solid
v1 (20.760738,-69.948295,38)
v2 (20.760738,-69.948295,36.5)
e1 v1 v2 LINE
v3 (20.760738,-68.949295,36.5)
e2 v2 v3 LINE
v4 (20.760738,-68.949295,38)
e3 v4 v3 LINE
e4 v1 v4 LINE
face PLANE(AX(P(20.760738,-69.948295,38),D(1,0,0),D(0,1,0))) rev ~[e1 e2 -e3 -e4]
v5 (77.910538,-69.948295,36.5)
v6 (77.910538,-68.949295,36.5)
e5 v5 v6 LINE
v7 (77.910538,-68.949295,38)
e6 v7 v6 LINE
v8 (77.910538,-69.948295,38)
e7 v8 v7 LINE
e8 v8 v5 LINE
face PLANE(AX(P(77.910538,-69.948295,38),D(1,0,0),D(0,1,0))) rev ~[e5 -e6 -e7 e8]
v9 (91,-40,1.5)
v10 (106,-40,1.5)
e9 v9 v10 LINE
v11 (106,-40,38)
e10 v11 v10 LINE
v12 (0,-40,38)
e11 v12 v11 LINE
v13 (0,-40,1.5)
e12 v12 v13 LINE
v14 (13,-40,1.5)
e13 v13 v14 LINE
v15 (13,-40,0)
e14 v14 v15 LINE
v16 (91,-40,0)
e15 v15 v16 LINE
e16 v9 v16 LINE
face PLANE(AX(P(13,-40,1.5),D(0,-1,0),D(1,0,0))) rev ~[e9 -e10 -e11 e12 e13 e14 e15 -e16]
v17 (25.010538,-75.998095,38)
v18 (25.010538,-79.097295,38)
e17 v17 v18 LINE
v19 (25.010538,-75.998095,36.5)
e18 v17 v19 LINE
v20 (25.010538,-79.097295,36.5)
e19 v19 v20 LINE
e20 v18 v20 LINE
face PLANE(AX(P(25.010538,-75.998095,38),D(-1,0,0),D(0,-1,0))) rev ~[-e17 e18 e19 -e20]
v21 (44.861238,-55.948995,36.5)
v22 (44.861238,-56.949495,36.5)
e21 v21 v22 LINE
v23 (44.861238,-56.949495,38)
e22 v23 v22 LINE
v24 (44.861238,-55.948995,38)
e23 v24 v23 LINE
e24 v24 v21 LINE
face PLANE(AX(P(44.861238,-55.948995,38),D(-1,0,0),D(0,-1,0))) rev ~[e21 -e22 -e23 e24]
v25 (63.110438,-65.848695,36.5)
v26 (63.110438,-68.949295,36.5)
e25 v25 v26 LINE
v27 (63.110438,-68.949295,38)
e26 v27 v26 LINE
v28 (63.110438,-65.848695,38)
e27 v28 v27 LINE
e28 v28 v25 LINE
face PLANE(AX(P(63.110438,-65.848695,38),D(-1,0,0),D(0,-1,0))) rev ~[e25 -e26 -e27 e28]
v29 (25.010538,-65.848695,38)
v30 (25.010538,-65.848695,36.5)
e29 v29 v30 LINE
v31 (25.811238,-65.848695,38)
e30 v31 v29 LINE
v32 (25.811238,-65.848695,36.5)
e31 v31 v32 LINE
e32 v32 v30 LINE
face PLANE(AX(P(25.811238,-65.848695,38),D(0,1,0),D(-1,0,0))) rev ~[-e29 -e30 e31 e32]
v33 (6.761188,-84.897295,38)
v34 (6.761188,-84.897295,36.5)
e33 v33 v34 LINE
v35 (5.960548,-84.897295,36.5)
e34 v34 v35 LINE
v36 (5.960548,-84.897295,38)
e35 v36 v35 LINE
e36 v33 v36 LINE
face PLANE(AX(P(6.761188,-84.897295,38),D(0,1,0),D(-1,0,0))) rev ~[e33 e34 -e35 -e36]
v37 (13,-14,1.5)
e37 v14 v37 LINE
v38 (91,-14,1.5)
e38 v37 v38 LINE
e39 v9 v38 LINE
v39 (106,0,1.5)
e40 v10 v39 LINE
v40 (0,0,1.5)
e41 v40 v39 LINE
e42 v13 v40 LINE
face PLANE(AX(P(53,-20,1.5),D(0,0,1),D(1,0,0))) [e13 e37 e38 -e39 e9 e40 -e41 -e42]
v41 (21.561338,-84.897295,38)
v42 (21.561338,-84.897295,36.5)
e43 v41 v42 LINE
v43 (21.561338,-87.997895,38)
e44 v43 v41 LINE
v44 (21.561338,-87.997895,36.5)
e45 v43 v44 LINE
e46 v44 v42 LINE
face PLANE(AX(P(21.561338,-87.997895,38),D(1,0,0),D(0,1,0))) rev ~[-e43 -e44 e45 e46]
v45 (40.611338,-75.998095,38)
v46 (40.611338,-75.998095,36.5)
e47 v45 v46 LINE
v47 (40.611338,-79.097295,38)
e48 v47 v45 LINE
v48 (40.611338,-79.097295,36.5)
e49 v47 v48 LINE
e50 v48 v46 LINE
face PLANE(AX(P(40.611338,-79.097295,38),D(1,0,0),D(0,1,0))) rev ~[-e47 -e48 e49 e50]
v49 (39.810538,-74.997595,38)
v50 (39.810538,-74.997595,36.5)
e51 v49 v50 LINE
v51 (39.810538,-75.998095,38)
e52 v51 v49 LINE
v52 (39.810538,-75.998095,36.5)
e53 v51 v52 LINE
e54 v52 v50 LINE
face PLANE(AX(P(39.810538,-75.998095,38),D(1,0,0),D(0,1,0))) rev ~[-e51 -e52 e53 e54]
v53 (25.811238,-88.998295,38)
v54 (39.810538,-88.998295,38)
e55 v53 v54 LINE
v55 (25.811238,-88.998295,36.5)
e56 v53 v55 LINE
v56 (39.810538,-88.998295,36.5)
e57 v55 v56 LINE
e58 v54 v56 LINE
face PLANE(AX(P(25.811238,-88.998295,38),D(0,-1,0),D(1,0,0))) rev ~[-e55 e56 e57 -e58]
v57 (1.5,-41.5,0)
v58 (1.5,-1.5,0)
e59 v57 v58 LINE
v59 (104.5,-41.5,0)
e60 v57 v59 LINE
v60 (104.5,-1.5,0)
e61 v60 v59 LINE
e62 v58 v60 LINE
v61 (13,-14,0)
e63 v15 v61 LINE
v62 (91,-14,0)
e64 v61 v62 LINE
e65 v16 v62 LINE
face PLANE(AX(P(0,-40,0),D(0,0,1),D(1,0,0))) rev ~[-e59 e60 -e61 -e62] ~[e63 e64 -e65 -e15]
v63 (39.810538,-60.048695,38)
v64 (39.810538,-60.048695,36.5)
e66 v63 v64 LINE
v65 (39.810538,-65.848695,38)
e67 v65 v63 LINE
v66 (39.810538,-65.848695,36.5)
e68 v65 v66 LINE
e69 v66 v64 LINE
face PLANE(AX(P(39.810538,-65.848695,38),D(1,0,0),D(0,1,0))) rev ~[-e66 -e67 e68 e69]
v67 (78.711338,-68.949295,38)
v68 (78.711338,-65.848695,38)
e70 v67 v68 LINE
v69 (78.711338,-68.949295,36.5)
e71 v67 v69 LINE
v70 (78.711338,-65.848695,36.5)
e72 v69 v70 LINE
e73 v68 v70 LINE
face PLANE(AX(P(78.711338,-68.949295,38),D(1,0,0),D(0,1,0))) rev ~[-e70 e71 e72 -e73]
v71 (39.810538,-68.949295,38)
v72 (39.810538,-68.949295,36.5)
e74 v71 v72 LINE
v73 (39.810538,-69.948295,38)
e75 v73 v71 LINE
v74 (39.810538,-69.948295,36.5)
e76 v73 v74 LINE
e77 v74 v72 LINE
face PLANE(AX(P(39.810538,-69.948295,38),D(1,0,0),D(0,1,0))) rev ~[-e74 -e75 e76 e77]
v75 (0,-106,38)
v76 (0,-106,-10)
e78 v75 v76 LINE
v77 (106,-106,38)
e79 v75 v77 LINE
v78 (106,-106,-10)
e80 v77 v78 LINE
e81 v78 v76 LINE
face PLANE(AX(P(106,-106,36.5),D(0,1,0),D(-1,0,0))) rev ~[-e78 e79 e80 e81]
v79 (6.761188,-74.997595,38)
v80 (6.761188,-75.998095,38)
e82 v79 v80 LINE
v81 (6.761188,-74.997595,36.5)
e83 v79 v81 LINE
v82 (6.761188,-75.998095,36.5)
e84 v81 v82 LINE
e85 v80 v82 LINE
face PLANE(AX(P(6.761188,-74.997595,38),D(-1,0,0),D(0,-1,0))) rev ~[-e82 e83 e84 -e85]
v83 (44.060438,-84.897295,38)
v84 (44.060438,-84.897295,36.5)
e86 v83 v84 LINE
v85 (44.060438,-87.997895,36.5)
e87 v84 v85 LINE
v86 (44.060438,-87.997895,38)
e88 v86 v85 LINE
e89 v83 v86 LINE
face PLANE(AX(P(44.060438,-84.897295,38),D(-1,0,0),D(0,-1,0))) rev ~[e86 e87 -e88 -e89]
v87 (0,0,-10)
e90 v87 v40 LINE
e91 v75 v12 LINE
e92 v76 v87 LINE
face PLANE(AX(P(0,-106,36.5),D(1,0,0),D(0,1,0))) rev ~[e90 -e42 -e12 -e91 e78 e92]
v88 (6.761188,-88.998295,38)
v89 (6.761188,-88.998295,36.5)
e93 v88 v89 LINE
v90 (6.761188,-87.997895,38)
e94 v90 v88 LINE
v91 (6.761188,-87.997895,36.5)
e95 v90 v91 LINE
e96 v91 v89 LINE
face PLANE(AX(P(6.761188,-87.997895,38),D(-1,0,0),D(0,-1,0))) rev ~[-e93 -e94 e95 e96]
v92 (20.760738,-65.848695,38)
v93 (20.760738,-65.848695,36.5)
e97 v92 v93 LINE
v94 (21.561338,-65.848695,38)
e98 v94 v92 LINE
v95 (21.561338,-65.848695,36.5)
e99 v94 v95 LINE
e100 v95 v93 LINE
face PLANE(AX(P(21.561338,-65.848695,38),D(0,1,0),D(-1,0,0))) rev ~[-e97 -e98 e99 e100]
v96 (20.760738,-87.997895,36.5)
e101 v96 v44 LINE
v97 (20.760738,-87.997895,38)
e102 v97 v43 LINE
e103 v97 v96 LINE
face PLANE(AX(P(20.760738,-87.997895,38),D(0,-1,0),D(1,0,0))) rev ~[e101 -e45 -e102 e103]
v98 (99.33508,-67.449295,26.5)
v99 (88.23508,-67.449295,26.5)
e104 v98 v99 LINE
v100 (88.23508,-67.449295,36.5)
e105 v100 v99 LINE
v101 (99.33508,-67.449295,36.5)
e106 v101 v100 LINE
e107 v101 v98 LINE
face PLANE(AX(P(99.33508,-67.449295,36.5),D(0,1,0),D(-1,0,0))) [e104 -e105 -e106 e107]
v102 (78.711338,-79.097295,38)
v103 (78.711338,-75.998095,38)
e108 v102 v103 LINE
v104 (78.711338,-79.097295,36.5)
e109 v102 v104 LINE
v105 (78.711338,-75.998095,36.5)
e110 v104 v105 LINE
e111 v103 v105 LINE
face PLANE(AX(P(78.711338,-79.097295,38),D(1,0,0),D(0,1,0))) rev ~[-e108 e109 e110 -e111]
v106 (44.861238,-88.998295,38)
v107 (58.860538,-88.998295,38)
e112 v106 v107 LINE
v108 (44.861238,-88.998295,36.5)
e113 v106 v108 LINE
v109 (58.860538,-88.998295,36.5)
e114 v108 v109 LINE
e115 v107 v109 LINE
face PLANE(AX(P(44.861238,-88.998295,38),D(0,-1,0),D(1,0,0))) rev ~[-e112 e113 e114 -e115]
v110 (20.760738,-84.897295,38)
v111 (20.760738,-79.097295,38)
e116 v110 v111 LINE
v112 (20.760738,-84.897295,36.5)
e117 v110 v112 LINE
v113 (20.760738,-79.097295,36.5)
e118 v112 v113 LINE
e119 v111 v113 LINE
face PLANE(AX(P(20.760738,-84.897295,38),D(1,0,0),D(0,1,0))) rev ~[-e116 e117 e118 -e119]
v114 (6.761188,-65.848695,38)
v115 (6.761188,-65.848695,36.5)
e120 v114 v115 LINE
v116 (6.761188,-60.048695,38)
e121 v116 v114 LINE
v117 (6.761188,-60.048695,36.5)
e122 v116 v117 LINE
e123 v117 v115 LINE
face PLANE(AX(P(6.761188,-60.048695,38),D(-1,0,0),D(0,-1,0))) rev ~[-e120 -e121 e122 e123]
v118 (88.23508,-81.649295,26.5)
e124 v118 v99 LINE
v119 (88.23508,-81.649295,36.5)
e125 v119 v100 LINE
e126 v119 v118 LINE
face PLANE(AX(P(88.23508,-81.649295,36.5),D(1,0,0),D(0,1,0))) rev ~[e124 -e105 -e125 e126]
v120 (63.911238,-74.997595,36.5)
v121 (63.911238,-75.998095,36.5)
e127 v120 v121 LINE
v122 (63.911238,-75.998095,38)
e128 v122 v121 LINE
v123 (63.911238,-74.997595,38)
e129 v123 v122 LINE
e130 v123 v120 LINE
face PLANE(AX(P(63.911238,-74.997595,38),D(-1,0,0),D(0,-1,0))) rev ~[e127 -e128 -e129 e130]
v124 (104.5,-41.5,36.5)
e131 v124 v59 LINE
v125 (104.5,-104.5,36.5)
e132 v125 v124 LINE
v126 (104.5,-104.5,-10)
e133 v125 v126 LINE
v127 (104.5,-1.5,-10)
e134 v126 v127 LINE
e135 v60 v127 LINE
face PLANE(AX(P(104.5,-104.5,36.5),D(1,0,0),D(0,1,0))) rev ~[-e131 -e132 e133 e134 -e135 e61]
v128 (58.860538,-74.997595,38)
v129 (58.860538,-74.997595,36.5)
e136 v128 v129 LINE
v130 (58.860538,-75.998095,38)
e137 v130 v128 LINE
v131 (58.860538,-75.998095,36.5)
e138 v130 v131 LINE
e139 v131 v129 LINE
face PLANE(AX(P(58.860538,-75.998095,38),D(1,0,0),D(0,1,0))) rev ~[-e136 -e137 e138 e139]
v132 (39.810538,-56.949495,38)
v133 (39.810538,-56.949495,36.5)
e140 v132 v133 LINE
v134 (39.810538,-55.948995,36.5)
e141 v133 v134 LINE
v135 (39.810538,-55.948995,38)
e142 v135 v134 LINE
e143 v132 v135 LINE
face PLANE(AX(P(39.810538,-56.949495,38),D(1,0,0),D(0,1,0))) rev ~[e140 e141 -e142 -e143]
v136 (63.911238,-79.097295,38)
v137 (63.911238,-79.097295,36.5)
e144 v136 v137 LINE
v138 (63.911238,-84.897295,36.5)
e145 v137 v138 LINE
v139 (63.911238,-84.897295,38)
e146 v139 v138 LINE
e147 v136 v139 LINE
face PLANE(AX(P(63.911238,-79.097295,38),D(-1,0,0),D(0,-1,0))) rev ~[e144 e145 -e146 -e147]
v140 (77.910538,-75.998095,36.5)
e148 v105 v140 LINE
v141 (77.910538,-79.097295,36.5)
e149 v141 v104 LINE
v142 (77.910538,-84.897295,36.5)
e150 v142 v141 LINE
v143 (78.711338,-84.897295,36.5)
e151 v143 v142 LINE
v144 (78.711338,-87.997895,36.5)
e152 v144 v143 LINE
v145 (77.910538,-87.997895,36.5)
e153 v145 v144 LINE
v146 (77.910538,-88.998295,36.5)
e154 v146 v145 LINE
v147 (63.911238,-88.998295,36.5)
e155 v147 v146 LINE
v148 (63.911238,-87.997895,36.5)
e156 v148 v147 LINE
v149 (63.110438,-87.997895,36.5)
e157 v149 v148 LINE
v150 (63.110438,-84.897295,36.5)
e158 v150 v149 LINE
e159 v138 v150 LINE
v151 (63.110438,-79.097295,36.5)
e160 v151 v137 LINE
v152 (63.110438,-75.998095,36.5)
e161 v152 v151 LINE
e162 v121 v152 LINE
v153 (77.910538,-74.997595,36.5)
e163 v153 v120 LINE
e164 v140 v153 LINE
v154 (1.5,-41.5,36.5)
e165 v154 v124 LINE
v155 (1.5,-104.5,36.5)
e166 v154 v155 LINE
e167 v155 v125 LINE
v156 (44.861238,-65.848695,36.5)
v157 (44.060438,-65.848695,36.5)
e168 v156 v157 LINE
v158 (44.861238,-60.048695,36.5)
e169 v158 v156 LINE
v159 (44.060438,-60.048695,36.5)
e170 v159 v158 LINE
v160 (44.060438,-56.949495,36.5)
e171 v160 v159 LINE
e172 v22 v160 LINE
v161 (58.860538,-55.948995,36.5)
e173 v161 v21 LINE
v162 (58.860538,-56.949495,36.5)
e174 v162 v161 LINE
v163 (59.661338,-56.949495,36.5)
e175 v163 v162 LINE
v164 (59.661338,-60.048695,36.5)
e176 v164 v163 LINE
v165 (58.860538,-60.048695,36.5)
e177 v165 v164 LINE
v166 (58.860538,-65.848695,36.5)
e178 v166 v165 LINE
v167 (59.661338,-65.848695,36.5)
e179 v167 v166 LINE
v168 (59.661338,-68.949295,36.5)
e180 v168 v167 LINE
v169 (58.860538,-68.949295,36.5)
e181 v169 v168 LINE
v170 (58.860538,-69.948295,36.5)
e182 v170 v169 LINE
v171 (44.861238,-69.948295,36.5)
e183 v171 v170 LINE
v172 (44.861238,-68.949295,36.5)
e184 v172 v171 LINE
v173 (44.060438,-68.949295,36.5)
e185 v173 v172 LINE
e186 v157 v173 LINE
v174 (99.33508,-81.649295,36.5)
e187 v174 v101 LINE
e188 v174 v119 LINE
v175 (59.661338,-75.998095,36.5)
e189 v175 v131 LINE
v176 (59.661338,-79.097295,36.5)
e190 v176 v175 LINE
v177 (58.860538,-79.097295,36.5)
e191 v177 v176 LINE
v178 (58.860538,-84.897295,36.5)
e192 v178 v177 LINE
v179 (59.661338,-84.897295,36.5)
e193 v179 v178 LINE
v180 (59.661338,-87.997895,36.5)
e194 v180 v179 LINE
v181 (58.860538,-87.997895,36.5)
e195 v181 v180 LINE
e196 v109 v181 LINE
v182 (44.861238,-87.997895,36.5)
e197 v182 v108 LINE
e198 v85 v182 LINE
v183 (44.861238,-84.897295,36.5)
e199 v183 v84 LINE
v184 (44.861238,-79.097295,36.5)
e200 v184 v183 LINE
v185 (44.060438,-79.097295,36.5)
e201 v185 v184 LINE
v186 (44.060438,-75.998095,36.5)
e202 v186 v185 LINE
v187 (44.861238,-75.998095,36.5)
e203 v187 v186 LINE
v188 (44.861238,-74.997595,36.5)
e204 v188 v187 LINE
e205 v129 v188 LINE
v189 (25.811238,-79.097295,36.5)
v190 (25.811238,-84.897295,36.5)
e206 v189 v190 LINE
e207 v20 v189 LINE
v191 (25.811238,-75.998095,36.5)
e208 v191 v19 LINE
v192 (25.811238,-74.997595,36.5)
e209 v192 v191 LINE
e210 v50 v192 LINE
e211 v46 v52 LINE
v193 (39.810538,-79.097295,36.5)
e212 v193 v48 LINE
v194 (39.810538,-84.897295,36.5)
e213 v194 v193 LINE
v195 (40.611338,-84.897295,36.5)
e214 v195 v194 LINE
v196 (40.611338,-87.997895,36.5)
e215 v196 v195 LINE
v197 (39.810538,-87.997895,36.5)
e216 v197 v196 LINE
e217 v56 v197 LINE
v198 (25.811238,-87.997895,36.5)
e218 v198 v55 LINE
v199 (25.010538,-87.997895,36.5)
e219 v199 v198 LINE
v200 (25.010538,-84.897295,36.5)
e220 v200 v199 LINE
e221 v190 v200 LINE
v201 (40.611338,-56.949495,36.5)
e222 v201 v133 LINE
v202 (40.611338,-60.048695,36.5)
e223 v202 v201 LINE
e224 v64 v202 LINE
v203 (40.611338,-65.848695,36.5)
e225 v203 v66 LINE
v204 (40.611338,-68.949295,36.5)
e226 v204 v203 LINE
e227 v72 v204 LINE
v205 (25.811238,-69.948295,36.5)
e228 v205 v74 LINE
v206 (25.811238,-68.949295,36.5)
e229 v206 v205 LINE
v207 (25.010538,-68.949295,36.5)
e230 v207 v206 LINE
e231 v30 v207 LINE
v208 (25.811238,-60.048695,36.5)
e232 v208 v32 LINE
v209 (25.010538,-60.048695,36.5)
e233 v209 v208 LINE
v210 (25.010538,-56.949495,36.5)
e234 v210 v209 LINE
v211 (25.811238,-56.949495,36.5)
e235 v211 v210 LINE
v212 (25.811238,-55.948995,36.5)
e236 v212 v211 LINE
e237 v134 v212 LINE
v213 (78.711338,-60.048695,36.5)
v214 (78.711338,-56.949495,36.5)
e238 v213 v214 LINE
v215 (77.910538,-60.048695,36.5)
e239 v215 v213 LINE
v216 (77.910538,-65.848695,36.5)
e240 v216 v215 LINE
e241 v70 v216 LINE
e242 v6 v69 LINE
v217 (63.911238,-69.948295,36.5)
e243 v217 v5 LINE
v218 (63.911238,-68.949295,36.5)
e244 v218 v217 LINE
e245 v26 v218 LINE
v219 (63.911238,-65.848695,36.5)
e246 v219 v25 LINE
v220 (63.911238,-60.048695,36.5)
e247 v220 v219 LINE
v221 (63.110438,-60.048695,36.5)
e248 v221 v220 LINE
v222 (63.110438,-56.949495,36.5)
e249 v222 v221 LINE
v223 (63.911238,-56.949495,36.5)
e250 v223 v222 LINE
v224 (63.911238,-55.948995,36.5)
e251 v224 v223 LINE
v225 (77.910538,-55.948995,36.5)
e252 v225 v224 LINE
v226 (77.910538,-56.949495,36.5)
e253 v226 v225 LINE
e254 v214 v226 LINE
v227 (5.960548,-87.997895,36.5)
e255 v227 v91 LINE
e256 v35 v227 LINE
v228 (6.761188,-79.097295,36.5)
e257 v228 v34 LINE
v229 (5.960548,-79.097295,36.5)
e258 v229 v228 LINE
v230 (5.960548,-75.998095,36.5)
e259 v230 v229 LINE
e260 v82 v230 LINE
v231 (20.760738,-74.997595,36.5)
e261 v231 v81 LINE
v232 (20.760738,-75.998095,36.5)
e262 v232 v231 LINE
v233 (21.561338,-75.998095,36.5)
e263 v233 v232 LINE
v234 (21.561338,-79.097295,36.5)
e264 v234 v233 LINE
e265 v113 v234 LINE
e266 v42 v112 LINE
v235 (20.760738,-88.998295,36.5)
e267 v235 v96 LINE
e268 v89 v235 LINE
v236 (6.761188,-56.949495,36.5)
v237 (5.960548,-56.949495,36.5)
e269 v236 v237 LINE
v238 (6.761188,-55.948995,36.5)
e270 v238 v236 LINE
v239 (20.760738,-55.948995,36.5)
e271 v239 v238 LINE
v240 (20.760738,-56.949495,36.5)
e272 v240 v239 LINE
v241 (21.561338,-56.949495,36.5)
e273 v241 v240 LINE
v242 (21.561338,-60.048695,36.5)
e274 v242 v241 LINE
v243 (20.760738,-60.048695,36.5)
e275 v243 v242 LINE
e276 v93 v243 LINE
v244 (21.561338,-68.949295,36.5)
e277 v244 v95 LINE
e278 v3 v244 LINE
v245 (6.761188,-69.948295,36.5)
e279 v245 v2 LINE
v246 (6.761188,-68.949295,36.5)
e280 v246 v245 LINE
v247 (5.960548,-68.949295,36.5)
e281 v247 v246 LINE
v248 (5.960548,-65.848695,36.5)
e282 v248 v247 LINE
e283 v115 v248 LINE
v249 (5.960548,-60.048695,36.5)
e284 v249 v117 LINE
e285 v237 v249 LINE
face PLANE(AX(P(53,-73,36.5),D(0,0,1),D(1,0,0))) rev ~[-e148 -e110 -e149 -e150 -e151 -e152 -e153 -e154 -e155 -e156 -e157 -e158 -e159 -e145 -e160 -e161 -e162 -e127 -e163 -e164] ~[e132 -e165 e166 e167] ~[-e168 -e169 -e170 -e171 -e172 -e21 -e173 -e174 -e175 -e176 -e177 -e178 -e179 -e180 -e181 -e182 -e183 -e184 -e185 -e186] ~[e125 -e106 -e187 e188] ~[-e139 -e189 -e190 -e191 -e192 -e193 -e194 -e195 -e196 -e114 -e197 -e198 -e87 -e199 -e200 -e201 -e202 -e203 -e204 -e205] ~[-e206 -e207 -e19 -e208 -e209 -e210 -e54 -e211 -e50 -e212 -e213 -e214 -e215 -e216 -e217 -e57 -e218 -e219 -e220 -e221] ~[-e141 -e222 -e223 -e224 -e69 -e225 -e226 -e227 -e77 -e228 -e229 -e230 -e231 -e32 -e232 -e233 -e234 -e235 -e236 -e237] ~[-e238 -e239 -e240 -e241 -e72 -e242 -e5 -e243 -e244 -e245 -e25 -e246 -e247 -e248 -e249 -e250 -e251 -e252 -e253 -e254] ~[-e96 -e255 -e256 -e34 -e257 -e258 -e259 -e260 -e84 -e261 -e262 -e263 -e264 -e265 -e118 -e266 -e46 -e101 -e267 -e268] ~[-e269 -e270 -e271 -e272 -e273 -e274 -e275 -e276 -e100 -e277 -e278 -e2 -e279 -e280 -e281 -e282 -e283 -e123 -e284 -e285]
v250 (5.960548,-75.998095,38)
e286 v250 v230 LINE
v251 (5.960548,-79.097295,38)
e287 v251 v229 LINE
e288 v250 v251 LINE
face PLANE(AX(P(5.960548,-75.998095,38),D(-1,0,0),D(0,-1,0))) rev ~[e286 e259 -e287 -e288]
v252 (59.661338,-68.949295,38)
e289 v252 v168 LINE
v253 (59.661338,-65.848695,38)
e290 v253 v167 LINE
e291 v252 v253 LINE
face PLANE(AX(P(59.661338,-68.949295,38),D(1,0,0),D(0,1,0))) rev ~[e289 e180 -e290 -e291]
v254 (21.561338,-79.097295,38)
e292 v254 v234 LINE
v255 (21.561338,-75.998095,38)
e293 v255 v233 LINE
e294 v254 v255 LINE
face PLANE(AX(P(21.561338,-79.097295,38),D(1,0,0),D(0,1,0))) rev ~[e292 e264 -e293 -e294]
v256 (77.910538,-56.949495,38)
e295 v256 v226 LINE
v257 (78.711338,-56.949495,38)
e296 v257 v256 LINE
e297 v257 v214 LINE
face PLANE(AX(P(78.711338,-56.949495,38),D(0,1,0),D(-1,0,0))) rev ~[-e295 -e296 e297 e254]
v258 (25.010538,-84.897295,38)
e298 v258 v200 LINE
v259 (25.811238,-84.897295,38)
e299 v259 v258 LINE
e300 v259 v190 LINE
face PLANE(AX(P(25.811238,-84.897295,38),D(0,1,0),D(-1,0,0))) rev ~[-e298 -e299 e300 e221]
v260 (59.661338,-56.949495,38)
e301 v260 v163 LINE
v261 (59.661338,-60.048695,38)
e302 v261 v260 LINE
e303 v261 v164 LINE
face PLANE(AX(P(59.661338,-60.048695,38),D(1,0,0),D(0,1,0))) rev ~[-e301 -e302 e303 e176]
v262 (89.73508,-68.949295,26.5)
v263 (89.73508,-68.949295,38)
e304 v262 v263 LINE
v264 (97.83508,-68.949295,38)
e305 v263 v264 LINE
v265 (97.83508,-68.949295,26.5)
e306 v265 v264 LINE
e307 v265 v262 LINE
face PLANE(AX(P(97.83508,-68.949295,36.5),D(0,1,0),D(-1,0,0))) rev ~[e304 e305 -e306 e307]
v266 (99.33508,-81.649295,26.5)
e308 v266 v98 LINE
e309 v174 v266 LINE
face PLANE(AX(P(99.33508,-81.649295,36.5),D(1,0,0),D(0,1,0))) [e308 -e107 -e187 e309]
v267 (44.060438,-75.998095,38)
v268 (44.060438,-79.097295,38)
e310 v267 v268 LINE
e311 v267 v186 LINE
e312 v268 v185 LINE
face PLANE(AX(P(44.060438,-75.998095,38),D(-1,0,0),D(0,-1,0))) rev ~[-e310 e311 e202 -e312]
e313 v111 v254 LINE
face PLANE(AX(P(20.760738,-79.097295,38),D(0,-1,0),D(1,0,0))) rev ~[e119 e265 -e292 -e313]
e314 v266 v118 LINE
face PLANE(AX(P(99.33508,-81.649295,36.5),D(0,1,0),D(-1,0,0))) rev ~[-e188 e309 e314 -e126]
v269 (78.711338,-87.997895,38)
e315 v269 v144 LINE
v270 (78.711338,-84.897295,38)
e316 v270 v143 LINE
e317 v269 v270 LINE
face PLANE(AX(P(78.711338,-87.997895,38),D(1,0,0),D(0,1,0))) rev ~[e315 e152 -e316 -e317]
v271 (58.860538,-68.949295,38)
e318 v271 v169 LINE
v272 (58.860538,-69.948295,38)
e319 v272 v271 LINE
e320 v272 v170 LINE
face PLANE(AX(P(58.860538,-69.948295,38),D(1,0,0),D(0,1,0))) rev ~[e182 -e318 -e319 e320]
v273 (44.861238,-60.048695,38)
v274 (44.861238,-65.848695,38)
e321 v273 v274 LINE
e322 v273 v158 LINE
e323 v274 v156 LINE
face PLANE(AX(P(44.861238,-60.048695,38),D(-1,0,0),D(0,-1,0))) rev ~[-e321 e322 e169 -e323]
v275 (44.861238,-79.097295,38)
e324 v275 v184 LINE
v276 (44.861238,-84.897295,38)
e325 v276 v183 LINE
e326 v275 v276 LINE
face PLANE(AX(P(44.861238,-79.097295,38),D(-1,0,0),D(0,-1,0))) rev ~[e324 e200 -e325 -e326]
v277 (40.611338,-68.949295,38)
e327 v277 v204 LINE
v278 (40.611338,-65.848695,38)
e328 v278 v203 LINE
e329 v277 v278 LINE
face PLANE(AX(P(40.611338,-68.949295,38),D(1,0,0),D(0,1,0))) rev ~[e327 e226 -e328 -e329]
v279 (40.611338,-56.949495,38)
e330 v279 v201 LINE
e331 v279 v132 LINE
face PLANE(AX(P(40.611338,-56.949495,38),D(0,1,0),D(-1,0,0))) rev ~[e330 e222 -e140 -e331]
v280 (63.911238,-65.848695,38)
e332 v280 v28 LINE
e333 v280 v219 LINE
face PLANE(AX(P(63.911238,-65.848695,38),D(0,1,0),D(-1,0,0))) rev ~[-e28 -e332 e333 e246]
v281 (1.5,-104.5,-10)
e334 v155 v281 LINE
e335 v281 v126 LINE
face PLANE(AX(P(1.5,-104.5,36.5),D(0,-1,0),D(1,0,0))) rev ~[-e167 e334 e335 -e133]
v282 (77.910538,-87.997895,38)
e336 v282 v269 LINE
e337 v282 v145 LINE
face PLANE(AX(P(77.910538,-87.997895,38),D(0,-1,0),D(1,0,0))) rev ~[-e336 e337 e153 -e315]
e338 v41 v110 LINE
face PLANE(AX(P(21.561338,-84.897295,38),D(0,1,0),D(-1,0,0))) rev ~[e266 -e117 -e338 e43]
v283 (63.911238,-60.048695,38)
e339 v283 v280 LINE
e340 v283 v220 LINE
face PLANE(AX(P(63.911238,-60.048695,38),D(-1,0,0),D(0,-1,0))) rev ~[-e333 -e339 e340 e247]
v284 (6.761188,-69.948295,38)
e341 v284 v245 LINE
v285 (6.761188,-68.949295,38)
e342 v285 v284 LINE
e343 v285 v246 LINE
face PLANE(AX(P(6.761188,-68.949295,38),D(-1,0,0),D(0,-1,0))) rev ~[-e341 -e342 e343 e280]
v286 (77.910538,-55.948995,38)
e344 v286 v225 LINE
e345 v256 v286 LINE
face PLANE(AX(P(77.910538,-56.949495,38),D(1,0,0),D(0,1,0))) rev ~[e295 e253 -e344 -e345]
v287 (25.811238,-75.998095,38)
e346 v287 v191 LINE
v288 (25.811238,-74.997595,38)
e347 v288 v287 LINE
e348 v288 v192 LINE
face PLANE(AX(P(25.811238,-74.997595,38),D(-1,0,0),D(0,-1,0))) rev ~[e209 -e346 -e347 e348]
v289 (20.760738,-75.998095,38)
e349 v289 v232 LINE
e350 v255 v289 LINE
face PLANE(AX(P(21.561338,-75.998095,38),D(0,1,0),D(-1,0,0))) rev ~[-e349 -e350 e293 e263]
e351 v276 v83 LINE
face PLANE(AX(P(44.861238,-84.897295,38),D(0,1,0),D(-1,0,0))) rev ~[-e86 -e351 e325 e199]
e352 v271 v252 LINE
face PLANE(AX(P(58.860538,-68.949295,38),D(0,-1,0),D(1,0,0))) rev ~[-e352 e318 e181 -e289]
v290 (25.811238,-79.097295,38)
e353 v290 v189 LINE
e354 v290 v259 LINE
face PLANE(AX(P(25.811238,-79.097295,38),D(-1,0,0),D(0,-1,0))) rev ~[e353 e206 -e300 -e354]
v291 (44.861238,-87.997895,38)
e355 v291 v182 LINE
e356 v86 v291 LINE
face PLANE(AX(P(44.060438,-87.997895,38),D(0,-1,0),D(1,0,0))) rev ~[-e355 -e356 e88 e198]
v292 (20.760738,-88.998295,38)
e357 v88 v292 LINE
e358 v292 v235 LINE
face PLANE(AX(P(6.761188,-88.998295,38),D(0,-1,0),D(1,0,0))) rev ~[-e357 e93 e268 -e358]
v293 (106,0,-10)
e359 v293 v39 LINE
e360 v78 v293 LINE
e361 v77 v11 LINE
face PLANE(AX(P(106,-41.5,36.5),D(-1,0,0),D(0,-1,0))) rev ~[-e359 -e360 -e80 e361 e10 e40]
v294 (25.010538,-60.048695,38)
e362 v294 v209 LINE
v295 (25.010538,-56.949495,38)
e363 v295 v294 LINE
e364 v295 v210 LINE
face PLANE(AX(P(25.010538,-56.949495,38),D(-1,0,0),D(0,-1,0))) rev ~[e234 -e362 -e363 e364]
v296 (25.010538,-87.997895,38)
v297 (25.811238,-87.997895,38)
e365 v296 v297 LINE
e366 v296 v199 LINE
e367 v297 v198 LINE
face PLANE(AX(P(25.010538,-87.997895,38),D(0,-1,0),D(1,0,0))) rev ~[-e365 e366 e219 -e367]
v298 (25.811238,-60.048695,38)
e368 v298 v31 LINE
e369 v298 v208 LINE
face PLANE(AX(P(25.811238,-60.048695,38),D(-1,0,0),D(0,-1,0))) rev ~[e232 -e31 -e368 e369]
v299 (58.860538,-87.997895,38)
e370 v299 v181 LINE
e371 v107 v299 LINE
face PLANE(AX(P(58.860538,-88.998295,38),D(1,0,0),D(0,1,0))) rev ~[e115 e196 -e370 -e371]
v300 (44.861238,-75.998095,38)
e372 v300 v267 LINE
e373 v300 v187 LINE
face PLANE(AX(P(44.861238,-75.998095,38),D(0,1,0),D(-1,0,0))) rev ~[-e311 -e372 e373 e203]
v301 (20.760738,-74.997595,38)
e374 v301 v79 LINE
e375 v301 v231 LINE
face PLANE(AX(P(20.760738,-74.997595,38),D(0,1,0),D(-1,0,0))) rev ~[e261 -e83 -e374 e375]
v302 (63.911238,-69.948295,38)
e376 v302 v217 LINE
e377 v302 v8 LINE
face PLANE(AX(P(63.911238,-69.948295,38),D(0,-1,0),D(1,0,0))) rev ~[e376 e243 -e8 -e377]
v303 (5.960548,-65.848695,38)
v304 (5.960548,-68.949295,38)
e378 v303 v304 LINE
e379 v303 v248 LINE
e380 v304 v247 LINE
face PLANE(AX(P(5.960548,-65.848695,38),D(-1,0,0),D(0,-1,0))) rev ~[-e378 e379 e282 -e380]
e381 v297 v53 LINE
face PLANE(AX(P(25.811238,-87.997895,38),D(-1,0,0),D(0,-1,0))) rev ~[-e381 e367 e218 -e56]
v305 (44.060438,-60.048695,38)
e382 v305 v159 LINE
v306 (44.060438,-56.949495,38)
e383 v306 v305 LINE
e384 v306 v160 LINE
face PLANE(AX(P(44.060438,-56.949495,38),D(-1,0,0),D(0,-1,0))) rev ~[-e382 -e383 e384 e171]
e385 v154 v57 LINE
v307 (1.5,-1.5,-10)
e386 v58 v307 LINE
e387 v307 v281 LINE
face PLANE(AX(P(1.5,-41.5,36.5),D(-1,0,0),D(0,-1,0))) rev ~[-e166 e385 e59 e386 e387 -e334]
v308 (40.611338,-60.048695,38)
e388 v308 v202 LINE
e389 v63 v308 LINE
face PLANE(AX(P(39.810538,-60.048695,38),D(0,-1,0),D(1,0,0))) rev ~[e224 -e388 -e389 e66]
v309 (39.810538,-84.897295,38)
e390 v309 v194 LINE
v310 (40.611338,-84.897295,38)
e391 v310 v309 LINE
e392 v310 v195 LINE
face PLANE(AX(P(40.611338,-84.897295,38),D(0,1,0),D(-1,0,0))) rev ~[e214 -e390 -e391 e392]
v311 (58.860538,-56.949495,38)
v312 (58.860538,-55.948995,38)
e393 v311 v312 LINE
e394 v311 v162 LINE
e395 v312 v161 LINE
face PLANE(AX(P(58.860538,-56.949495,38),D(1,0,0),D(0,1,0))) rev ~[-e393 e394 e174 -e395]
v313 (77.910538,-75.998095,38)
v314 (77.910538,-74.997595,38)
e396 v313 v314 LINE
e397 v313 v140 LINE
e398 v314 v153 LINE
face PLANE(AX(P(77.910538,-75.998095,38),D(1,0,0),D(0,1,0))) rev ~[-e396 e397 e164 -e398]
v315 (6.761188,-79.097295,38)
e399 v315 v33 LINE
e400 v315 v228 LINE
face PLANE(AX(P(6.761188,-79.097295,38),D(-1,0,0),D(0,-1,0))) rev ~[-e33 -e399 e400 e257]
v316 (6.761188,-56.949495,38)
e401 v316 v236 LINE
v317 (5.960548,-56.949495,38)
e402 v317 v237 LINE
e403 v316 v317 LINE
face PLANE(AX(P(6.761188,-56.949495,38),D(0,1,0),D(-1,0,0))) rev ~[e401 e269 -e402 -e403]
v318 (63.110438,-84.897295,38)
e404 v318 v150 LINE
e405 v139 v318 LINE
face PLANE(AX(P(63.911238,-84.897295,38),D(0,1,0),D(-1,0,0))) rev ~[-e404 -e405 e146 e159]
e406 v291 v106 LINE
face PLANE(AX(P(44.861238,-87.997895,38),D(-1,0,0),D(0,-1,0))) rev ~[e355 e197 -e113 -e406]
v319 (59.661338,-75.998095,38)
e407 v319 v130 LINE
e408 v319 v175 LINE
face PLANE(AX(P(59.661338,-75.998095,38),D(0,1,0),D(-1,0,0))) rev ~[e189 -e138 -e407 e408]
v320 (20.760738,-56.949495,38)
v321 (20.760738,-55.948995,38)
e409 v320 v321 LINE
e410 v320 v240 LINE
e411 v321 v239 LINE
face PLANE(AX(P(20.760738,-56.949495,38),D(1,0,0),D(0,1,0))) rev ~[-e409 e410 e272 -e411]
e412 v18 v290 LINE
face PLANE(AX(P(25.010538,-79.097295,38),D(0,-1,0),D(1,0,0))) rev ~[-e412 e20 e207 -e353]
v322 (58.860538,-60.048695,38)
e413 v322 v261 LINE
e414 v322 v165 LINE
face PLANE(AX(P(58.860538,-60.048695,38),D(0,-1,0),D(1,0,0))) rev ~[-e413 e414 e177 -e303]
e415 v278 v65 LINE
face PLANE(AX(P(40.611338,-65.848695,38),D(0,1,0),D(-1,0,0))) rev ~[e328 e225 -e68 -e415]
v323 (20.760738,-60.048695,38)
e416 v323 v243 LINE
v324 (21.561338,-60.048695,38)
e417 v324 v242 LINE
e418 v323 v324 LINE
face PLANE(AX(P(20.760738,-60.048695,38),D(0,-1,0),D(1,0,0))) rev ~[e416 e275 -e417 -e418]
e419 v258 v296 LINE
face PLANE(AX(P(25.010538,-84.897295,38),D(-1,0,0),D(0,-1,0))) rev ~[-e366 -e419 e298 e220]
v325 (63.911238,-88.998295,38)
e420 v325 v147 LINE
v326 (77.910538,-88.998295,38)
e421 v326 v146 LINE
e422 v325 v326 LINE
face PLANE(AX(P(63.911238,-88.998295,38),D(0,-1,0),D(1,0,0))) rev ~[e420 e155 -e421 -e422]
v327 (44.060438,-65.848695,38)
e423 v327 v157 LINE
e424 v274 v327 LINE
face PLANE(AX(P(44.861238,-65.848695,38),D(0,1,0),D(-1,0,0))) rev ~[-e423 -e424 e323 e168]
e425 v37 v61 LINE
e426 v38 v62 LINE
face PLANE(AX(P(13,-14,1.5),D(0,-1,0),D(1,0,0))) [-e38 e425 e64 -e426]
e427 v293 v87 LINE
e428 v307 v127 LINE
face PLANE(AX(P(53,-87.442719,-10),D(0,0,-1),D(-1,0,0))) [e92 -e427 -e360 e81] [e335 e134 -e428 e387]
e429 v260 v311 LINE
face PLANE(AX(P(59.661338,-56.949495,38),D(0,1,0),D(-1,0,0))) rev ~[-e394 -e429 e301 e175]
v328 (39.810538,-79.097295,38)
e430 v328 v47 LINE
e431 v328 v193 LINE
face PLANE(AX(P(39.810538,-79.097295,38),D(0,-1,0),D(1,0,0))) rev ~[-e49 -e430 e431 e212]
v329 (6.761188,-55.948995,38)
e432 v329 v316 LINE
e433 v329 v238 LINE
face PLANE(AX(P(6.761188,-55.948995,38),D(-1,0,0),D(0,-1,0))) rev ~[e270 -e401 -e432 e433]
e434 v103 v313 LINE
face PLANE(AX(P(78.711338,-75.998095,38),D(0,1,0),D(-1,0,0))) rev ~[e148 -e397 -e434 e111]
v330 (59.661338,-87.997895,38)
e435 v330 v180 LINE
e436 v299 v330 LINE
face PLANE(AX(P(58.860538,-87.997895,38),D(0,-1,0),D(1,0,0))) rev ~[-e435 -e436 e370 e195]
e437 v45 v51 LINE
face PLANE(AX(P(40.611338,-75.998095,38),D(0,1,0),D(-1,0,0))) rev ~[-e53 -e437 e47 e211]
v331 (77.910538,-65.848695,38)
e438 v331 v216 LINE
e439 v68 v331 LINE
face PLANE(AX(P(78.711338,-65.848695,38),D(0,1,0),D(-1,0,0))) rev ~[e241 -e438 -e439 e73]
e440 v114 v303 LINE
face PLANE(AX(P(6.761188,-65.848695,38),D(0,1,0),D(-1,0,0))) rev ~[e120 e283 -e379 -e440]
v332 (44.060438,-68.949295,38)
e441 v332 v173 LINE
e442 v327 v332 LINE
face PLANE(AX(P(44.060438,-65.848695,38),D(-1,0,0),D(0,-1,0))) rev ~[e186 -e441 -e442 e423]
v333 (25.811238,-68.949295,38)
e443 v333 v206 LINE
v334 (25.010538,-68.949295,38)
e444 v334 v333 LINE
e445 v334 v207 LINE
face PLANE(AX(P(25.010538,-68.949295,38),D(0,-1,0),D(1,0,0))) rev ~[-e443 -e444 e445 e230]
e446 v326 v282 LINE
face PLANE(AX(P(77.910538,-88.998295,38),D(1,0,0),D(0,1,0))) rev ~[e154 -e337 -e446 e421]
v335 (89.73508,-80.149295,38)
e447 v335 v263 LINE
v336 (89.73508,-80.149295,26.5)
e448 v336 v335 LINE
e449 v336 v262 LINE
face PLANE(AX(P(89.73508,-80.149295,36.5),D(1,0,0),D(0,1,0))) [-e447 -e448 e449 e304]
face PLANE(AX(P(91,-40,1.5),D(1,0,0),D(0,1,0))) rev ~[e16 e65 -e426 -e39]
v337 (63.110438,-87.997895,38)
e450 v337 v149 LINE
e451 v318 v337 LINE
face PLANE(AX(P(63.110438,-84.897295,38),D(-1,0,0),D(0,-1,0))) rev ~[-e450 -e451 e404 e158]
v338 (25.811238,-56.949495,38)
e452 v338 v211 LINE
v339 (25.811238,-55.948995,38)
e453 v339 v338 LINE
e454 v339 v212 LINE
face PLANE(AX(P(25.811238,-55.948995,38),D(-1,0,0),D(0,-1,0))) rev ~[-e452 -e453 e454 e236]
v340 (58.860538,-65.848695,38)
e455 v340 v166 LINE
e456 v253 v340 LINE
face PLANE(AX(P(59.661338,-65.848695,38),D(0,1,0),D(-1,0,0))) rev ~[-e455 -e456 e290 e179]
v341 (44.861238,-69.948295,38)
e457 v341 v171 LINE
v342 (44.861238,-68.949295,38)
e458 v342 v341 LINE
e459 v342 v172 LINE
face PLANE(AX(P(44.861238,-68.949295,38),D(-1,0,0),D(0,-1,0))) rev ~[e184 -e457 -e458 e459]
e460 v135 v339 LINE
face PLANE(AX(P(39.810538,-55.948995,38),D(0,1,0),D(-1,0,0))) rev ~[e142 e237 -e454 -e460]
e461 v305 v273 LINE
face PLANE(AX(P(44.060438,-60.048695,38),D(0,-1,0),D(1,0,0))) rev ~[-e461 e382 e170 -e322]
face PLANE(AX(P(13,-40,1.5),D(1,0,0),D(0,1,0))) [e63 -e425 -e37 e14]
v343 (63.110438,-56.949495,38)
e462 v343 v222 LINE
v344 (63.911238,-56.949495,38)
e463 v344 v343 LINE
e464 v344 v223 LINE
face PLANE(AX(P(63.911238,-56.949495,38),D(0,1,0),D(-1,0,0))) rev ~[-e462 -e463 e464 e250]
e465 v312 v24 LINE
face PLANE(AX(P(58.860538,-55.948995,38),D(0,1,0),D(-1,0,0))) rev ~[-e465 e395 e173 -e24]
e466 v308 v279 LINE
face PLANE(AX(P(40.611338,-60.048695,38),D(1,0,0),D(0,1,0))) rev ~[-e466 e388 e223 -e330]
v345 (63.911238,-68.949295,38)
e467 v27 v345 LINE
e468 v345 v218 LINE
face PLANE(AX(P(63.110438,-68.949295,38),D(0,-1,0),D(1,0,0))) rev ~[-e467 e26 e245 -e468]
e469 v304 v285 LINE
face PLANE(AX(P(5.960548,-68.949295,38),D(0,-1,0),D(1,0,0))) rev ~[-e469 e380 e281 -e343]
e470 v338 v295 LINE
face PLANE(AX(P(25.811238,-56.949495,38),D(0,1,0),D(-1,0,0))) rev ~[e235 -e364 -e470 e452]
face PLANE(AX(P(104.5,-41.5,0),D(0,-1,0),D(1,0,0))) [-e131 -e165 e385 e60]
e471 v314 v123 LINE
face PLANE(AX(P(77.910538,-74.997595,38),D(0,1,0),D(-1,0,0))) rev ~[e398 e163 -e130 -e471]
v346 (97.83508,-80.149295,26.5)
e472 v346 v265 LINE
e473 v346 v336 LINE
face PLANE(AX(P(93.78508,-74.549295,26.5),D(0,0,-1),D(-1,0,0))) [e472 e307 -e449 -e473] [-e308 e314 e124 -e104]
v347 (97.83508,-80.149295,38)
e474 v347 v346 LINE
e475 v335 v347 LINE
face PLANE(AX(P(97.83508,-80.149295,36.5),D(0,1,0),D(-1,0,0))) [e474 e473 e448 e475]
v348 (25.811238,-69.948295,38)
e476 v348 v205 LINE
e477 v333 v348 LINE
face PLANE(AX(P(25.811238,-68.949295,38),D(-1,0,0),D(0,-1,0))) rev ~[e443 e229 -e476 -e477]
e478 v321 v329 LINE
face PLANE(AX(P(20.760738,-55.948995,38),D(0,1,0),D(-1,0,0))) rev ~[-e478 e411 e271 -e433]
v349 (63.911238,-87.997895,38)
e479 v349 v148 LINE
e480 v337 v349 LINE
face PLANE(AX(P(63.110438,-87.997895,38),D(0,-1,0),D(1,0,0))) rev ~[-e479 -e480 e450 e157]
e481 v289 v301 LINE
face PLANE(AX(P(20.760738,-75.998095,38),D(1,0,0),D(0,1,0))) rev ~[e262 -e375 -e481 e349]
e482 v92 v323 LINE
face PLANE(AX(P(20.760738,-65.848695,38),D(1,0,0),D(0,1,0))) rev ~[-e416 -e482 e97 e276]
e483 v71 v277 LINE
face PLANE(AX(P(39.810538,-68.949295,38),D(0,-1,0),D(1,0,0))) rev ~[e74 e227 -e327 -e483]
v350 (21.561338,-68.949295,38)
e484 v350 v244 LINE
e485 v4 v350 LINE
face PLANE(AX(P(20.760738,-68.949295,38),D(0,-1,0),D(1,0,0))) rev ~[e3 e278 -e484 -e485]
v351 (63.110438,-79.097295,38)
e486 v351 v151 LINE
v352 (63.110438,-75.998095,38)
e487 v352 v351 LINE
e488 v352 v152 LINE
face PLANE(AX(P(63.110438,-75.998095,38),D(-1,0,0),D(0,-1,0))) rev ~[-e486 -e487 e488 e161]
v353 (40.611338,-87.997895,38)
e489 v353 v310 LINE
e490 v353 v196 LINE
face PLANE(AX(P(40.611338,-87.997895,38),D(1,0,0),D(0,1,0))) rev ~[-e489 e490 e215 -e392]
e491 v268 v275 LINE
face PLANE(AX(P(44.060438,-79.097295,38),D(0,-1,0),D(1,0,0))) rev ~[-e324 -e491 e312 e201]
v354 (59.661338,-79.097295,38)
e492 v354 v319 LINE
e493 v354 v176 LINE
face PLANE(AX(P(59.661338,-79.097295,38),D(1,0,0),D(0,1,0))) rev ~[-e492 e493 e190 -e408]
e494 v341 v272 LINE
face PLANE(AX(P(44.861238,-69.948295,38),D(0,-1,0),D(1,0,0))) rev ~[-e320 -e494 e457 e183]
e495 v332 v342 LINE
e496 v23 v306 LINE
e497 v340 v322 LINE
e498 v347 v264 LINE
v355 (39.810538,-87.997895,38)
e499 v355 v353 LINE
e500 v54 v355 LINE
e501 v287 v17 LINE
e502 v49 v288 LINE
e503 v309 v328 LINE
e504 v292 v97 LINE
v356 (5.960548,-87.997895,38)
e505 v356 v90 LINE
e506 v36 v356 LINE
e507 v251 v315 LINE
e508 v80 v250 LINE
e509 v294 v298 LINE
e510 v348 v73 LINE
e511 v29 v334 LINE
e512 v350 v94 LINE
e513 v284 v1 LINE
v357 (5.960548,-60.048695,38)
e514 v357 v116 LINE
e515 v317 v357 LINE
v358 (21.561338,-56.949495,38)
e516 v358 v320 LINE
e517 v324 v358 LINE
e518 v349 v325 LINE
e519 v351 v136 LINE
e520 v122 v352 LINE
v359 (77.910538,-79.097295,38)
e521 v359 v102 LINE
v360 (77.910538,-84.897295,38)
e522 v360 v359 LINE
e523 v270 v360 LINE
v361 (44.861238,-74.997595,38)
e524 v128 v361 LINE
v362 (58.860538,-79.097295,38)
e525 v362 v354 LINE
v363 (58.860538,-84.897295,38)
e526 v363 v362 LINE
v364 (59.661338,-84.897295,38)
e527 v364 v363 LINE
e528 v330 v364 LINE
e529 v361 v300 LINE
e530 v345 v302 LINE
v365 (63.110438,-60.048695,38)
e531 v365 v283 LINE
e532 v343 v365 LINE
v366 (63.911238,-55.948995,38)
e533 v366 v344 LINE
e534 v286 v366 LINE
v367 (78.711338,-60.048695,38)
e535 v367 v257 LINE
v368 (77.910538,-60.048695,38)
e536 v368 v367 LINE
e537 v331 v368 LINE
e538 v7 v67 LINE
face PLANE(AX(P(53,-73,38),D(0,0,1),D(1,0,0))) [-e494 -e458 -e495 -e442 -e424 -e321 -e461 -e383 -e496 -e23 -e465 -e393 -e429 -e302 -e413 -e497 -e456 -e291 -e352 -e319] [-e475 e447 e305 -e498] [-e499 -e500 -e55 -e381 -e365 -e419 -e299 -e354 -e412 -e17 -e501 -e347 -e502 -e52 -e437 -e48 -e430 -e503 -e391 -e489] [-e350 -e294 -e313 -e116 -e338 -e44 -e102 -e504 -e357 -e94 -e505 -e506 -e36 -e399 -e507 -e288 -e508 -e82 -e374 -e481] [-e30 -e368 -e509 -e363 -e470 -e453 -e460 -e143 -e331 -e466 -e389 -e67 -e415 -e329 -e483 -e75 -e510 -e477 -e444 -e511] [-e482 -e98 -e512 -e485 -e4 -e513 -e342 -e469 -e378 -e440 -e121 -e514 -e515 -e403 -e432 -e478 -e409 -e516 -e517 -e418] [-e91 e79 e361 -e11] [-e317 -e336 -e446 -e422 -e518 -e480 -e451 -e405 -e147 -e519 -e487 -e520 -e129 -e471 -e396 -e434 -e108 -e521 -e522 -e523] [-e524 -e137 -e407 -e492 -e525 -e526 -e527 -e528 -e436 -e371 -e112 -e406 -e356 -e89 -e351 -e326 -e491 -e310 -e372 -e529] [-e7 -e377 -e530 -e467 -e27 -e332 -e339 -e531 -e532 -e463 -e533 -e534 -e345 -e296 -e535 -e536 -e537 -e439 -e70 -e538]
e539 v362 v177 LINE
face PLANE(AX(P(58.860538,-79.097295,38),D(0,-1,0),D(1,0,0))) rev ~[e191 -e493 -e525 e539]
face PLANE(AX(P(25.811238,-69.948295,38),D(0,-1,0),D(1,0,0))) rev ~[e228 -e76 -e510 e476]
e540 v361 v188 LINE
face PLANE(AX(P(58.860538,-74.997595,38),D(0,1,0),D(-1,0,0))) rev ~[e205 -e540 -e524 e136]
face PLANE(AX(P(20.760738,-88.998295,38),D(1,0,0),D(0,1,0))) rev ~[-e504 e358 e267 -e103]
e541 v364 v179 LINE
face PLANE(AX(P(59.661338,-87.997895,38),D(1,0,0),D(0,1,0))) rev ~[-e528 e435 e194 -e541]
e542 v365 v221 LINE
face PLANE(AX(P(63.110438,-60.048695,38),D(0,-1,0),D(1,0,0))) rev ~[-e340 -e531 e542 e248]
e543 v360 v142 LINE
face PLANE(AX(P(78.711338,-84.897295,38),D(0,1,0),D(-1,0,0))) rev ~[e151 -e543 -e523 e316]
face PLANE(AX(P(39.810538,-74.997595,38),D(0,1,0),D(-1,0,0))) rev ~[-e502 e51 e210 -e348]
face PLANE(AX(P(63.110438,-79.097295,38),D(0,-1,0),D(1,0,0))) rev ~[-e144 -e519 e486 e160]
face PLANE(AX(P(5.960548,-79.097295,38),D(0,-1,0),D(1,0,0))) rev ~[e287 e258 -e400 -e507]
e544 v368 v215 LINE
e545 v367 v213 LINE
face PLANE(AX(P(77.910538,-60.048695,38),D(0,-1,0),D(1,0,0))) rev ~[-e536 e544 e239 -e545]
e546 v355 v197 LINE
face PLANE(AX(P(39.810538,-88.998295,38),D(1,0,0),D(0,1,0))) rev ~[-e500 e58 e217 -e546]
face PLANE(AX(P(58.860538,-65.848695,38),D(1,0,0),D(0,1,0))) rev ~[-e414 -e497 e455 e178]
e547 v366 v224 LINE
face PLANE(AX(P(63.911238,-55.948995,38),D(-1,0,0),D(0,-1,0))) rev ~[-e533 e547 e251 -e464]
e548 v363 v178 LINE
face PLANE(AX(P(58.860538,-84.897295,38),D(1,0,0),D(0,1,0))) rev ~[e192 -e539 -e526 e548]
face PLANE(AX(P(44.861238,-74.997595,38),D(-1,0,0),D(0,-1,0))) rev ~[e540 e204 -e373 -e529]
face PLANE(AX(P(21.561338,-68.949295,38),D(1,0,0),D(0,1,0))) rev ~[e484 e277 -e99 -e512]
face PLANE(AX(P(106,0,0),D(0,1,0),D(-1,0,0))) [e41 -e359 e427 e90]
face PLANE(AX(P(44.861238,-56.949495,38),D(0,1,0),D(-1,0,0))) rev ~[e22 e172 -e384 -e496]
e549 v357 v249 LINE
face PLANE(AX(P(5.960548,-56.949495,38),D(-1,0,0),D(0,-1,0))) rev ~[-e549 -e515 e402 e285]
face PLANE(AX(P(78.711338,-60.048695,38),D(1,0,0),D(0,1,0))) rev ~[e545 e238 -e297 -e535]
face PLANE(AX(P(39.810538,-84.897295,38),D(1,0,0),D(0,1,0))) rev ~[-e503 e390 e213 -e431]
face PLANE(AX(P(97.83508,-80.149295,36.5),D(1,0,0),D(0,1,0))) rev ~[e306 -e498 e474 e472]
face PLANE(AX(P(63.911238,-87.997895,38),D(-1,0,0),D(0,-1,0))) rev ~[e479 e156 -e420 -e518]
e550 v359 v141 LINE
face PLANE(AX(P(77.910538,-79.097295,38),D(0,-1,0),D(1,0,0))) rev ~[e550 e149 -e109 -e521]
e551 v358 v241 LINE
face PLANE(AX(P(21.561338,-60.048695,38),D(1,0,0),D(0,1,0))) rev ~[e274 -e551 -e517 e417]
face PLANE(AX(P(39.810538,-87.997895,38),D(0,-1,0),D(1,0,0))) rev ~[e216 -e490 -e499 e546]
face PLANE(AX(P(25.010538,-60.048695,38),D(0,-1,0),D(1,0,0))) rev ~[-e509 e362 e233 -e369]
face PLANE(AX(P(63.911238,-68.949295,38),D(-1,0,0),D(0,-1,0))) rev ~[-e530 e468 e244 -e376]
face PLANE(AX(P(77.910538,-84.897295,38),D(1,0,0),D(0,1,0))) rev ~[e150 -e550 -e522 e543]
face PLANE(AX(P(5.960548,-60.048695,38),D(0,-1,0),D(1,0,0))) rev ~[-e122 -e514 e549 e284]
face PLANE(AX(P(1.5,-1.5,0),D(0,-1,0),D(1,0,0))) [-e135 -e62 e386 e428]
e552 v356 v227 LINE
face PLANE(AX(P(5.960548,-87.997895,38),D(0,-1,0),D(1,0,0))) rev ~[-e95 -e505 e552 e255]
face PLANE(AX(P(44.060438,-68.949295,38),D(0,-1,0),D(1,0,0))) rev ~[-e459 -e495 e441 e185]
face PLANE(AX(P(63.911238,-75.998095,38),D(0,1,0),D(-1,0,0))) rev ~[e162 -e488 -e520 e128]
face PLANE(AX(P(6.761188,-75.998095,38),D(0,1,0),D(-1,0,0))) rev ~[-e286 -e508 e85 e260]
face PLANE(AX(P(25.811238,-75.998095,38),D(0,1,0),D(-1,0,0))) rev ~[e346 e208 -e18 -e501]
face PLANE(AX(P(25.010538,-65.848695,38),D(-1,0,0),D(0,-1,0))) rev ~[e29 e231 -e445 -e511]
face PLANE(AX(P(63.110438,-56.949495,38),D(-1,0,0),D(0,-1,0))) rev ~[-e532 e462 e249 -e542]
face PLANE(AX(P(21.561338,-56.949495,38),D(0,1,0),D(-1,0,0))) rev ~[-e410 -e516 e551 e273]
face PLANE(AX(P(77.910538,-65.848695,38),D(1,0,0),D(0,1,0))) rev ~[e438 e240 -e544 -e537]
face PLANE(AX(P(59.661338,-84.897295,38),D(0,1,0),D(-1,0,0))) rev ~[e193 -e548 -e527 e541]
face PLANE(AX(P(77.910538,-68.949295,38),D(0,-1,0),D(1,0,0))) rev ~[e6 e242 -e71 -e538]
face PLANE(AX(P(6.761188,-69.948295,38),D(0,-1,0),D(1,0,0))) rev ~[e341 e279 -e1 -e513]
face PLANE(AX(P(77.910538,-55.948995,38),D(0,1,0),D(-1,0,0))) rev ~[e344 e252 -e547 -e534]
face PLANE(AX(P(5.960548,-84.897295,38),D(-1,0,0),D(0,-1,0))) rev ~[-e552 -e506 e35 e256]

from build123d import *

# Parameters (mm, degrees)
SKETCH_1_W          = 106
SKETCH_1_H          = 40
EXTRUDE_1_DEPTH     = 1.5
SKETCH_5_W          = 106
SKETCH_5_H          = 36.5
EXTRUDE_4_DEPTH     = 1.5
SKETCH_6_W          = 106
SKETCH_6_H          = 66
EXTRUDE_5_DEPTH     = 1.5
EXTRUDE_6_DEPTH     = 10
EXTRUDE_7_DEPTH     = 46.5
SKETCH_11_W         = 8.1
SKETCH_11_H         = 11.2
CUT_EXTRUDE_1_DEPTH = 1.5
SKETCH_12_W         = 11.1
SKETCH_12_H         = 14.2
SKETCH_12_W_2       = 8.1
SKETCH_12_H_2       = 11.2
EXTRUDE_8_DEPTH     = 10
SKETCH_13_W         = 78
SKETCH_13_H         = 26
CUT_EXTRUDE_2_DEPTH = 1.5


with BuildPart() as part:
    # 草图1 → 凸台-拉伸1 (new body)
    with BuildSketch(Plane.XY):
        with Locations((53, -20)):
            Rectangle(SKETCH_1_W, SKETCH_1_H)
    extrude(amount=EXTRUDE_1_DEPTH)

    # 草图5 → 凸台-拉伸4 (add)
    with BuildSketch(Plane.XZ.offset(40)):
        with Locations((53, 18.25)):
            Rectangle(SKETCH_5_W, SKETCH_5_H)
    extrude(amount=EXTRUDE_4_DEPTH)

    # 草图6 → 凸台-拉伸5 (add)
    with BuildSketch(Plane.XY.offset(36.5)):
        with Locations((53, -73)):
            Rectangle(SKETCH_6_W, SKETCH_6_H)
    extrude(amount=EXTRUDE_5_DEPTH)

    # 草图7 → 凸台-拉伸6 (add)
    with BuildSketch(Plane(origin=(0, 0, 0), x_dir=(-1, 0, 0), z_dir=(0, 0, -1))):
        Polygon((-106, -41.5), (-106, 0), (0, 0), (0, -41.5), (-1.5, -41.5), (-1.5, -1.5), (-104.5, -1.5), (-104.5, -41.5), align=None)
    extrude(amount=EXTRUDE_6_DEPTH)

    # 草图8 → 凸台-拉伸7 (add)
    with BuildSketch(Plane(origin=(0, 0, 36.5), x_dir=(-1, 0, 0), z_dir=(0, 0, -1))):
        Polygon((-106, -41.5), (-106, -106), (0, -106), (0, -41.5), (-1.5, -41.5), (-1.5, -104.5), (-104.5, -104.5), (-104.5, -41.5), align=None)
    extrude(amount=EXTRUDE_7_DEPTH)

    # 草图11 → 切除-拉伸1 (cut)
    with BuildSketch(Plane.XY.offset(38)):
        Polygon((63.911237552, -74.99759487), (63.911237552, -75.99809487), (63.110437552, -75.99809487), (63.110437552, -79.09729487), (63.911237552, -79.09729487), (63.911237552, -84.89729487), (63.110437552, -84.89729487), (63.110437552, -87.99789487), (63.911237552, -87.99789487), (63.911237552, -88.99829487), (77.910537552, -88.99829487), (77.910537552, -87.99789487), (78.711337552, -87.99789487), (78.711337552, -84.89729487), (77.910537552, -84.89729487), (77.910537552, -79.09729487), (78.711337552, -79.09729487), (78.711337552, -75.99809487), (77.910537552, -75.99809487), (77.910537552, -74.99759487), align=None)
        Polygon((44.861237552, -74.99759487), (44.861237552, -75.99809487), (44.060437552, -75.99809487), (44.060437552, -79.09729487), (44.861237552, -79.09729487), (44.861237552, -84.89729487), (44.060437552, -84.89729487), (44.060437552, -87.99789487), (44.861237552, -87.99789487), (44.861237552, -88.99829487), (58.860537552, -88.99829487), (58.860537552, -87.99789487), (59.661337552, -87.99789487), (59.661337552, -84.89729487), (58.860537552, -84.89729487), (58.860537552, -79.09729487), (59.661337552, -79.09729487), (59.661337552, -75.99809487), (58.860537552, -75.99809487), (58.860537552, -74.99759487), align=None)
        Polygon((25.811237552, -74.99759487), (25.811237552, -75.99809487), (25.010537552, -75.99809487), (25.010537552, -79.09729487), (25.811237552, -79.09729487), (25.811237552, -84.89729487), (25.010537552, -84.89729487), (25.010537552, -87.99789487), (25.811237552, -87.99789487), (25.811237552, -88.99829487), (39.810537552, -88.99829487), (39.810537552, -87.99789487), (40.611337552, -87.99789487), (40.611337552, -84.89729487), (39.810537552, -84.89729487), (39.810537552, -79.09729487), (40.611337552, -79.09729487), (40.611337552, -75.99809487), (39.810537552, -75.99809487), (39.810537552, -74.99759487), align=None)
        Polygon((6.761187552, -74.99759487), (6.761187552, -75.99809487), (5.960547552, -75.99809487), (5.960547552, -79.09729487), (6.761187552, -79.09729487), (6.761187552, -84.89729487), (5.960547552, -84.89729487), (5.960547552, -87.99789487), (6.761187552, -87.99789487), (6.761187552, -88.99829487), (20.760737552, -88.99829487), (20.760737552, -87.99789487), (21.561337552, -87.99789487), (21.561337552, -84.89729487), (20.760737552, -84.89729487), (20.760737552, -79.09729487), (21.561337552, -79.09729487), (21.561337552, -75.99809487), (20.760737552, -75.99809487), (20.760737552, -74.99759487), align=None)
        Polygon((63.911237552, -55.94899487), (63.911237552, -56.94949487), (63.110437552, -56.94949487), (63.110437552, -60.04869487), (63.911237552, -60.04869487), (63.911237552, -65.84869487), (63.110437552, -65.84869487), (63.110437552, -68.94929487), (63.911237552, -68.94929487), (63.911237552, -69.94829487), (77.910537552, -69.94829487), (77.910537552, -68.94929487), (78.711337552, -68.94929487), (78.711337552, -65.84869487), (77.910537552, -65.84869487), (77.910537552, -60.04869487), (78.711337552, -60.04869487), (78.711337552, -56.94949487), (77.910537552, -56.94949487), (77.910537552, -55.94899487), align=None)
        Polygon((44.861237552, -55.94899487), (44.861237552, -56.94949487), (44.060437552, -56.94949487), (44.060437552, -60.04869487), (44.861237552, -60.04869487), (44.861237552, -65.84869487), (44.060437552, -65.84869487), (44.060437552, -68.94929487), (44.861237552, -68.94929487), (44.861237552, -69.94829487), (58.860537552, -69.94829487), (58.860537552, -68.94929487), (59.661337552, -68.94929487), (59.661337552, -65.84869487), (58.860537552, -65.84869487), (58.860537552, -60.04869487), (59.661337552, -60.04869487), (59.661337552, -56.94949487), (58.860537552, -56.94949487), (58.860537552, -55.94899487), align=None)
        Polygon((25.811237552, -55.94899487), (25.811237552, -56.94949487), (25.010537552, -56.94949487), (25.010537552, -60.04869487), (25.811237552, -60.04869487), (25.811237552, -65.84869487), (25.010537552, -65.84869487), (25.010537552, -68.94929487), (25.811237552, -68.94929487), (25.811237552, -69.94829487), (39.810537552, -69.94829487), (39.810537552, -68.94929487), (40.611337552, -68.94929487), (40.611337552, -65.84869487), (39.810537552, -65.84869487), (39.810537552, -60.04869487), (40.611337552, -60.04869487), (40.611337552, -56.94949487), (39.810537552, -56.94949487), (39.810537552, -55.94899487), align=None)
        Polygon((6.761187552, -55.94899487), (6.761187552, -56.94949487), (5.960547552, -56.94949487), (5.960547552, -60.04869487), (6.761187552, -60.04869487), (6.761187552, -65.84869487), (5.960547552, -65.84869487), (5.960547552, -68.94929487), (6.761187552, -68.94929487), (6.761187552, -69.94829487), (20.760737552, -69.94829487), (20.760737552, -68.94929487), (21.561337552, -68.94929487), (21.561337552, -65.84869487), (20.760737552, -65.84869487), (20.760737552, -60.04869487), (21.561337552, -60.04869487), (21.561337552, -56.94949487), (20.760737552, -56.94949487), (20.760737552, -55.94899487), align=None)
        with Locations((93.785079963, -74.54929487)):
            Rectangle(SKETCH_11_W, SKETCH_11_H)
    extrude(amount=-CUT_EXTRUDE_1_DEPTH, mode=Mode.SUBTRACT)

    # 草图12 → 凸台-拉伸8 (add)
    with BuildSketch(Plane(origin=(0, 0, 36.5), x_dir=(-1, 0, 0), z_dir=(0, 0, -1))):
        with Locations((-93.785079963, -74.54929487)):
            Rectangle(SKETCH_12_W, SKETCH_12_H)
        with Locations((-93.785079963, -74.54929487)):
            Rectangle(SKETCH_12_W_2, SKETCH_12_H_2, mode=Mode.SUBTRACT)
    extrude(amount=EXTRUDE_8_DEPTH)

    # 草图13 → 切除-拉伸2 (cut)
    with BuildSketch(Plane.XY.offset(1.5)):
        with Locations((52, -27)):
            Rectangle(SKETCH_13_W, SKETCH_13_H)
    extrude(amount=-CUT_EXTRUDE_2_DEPTH, mode=Mode.SUBTRACT)


solid = part.part
